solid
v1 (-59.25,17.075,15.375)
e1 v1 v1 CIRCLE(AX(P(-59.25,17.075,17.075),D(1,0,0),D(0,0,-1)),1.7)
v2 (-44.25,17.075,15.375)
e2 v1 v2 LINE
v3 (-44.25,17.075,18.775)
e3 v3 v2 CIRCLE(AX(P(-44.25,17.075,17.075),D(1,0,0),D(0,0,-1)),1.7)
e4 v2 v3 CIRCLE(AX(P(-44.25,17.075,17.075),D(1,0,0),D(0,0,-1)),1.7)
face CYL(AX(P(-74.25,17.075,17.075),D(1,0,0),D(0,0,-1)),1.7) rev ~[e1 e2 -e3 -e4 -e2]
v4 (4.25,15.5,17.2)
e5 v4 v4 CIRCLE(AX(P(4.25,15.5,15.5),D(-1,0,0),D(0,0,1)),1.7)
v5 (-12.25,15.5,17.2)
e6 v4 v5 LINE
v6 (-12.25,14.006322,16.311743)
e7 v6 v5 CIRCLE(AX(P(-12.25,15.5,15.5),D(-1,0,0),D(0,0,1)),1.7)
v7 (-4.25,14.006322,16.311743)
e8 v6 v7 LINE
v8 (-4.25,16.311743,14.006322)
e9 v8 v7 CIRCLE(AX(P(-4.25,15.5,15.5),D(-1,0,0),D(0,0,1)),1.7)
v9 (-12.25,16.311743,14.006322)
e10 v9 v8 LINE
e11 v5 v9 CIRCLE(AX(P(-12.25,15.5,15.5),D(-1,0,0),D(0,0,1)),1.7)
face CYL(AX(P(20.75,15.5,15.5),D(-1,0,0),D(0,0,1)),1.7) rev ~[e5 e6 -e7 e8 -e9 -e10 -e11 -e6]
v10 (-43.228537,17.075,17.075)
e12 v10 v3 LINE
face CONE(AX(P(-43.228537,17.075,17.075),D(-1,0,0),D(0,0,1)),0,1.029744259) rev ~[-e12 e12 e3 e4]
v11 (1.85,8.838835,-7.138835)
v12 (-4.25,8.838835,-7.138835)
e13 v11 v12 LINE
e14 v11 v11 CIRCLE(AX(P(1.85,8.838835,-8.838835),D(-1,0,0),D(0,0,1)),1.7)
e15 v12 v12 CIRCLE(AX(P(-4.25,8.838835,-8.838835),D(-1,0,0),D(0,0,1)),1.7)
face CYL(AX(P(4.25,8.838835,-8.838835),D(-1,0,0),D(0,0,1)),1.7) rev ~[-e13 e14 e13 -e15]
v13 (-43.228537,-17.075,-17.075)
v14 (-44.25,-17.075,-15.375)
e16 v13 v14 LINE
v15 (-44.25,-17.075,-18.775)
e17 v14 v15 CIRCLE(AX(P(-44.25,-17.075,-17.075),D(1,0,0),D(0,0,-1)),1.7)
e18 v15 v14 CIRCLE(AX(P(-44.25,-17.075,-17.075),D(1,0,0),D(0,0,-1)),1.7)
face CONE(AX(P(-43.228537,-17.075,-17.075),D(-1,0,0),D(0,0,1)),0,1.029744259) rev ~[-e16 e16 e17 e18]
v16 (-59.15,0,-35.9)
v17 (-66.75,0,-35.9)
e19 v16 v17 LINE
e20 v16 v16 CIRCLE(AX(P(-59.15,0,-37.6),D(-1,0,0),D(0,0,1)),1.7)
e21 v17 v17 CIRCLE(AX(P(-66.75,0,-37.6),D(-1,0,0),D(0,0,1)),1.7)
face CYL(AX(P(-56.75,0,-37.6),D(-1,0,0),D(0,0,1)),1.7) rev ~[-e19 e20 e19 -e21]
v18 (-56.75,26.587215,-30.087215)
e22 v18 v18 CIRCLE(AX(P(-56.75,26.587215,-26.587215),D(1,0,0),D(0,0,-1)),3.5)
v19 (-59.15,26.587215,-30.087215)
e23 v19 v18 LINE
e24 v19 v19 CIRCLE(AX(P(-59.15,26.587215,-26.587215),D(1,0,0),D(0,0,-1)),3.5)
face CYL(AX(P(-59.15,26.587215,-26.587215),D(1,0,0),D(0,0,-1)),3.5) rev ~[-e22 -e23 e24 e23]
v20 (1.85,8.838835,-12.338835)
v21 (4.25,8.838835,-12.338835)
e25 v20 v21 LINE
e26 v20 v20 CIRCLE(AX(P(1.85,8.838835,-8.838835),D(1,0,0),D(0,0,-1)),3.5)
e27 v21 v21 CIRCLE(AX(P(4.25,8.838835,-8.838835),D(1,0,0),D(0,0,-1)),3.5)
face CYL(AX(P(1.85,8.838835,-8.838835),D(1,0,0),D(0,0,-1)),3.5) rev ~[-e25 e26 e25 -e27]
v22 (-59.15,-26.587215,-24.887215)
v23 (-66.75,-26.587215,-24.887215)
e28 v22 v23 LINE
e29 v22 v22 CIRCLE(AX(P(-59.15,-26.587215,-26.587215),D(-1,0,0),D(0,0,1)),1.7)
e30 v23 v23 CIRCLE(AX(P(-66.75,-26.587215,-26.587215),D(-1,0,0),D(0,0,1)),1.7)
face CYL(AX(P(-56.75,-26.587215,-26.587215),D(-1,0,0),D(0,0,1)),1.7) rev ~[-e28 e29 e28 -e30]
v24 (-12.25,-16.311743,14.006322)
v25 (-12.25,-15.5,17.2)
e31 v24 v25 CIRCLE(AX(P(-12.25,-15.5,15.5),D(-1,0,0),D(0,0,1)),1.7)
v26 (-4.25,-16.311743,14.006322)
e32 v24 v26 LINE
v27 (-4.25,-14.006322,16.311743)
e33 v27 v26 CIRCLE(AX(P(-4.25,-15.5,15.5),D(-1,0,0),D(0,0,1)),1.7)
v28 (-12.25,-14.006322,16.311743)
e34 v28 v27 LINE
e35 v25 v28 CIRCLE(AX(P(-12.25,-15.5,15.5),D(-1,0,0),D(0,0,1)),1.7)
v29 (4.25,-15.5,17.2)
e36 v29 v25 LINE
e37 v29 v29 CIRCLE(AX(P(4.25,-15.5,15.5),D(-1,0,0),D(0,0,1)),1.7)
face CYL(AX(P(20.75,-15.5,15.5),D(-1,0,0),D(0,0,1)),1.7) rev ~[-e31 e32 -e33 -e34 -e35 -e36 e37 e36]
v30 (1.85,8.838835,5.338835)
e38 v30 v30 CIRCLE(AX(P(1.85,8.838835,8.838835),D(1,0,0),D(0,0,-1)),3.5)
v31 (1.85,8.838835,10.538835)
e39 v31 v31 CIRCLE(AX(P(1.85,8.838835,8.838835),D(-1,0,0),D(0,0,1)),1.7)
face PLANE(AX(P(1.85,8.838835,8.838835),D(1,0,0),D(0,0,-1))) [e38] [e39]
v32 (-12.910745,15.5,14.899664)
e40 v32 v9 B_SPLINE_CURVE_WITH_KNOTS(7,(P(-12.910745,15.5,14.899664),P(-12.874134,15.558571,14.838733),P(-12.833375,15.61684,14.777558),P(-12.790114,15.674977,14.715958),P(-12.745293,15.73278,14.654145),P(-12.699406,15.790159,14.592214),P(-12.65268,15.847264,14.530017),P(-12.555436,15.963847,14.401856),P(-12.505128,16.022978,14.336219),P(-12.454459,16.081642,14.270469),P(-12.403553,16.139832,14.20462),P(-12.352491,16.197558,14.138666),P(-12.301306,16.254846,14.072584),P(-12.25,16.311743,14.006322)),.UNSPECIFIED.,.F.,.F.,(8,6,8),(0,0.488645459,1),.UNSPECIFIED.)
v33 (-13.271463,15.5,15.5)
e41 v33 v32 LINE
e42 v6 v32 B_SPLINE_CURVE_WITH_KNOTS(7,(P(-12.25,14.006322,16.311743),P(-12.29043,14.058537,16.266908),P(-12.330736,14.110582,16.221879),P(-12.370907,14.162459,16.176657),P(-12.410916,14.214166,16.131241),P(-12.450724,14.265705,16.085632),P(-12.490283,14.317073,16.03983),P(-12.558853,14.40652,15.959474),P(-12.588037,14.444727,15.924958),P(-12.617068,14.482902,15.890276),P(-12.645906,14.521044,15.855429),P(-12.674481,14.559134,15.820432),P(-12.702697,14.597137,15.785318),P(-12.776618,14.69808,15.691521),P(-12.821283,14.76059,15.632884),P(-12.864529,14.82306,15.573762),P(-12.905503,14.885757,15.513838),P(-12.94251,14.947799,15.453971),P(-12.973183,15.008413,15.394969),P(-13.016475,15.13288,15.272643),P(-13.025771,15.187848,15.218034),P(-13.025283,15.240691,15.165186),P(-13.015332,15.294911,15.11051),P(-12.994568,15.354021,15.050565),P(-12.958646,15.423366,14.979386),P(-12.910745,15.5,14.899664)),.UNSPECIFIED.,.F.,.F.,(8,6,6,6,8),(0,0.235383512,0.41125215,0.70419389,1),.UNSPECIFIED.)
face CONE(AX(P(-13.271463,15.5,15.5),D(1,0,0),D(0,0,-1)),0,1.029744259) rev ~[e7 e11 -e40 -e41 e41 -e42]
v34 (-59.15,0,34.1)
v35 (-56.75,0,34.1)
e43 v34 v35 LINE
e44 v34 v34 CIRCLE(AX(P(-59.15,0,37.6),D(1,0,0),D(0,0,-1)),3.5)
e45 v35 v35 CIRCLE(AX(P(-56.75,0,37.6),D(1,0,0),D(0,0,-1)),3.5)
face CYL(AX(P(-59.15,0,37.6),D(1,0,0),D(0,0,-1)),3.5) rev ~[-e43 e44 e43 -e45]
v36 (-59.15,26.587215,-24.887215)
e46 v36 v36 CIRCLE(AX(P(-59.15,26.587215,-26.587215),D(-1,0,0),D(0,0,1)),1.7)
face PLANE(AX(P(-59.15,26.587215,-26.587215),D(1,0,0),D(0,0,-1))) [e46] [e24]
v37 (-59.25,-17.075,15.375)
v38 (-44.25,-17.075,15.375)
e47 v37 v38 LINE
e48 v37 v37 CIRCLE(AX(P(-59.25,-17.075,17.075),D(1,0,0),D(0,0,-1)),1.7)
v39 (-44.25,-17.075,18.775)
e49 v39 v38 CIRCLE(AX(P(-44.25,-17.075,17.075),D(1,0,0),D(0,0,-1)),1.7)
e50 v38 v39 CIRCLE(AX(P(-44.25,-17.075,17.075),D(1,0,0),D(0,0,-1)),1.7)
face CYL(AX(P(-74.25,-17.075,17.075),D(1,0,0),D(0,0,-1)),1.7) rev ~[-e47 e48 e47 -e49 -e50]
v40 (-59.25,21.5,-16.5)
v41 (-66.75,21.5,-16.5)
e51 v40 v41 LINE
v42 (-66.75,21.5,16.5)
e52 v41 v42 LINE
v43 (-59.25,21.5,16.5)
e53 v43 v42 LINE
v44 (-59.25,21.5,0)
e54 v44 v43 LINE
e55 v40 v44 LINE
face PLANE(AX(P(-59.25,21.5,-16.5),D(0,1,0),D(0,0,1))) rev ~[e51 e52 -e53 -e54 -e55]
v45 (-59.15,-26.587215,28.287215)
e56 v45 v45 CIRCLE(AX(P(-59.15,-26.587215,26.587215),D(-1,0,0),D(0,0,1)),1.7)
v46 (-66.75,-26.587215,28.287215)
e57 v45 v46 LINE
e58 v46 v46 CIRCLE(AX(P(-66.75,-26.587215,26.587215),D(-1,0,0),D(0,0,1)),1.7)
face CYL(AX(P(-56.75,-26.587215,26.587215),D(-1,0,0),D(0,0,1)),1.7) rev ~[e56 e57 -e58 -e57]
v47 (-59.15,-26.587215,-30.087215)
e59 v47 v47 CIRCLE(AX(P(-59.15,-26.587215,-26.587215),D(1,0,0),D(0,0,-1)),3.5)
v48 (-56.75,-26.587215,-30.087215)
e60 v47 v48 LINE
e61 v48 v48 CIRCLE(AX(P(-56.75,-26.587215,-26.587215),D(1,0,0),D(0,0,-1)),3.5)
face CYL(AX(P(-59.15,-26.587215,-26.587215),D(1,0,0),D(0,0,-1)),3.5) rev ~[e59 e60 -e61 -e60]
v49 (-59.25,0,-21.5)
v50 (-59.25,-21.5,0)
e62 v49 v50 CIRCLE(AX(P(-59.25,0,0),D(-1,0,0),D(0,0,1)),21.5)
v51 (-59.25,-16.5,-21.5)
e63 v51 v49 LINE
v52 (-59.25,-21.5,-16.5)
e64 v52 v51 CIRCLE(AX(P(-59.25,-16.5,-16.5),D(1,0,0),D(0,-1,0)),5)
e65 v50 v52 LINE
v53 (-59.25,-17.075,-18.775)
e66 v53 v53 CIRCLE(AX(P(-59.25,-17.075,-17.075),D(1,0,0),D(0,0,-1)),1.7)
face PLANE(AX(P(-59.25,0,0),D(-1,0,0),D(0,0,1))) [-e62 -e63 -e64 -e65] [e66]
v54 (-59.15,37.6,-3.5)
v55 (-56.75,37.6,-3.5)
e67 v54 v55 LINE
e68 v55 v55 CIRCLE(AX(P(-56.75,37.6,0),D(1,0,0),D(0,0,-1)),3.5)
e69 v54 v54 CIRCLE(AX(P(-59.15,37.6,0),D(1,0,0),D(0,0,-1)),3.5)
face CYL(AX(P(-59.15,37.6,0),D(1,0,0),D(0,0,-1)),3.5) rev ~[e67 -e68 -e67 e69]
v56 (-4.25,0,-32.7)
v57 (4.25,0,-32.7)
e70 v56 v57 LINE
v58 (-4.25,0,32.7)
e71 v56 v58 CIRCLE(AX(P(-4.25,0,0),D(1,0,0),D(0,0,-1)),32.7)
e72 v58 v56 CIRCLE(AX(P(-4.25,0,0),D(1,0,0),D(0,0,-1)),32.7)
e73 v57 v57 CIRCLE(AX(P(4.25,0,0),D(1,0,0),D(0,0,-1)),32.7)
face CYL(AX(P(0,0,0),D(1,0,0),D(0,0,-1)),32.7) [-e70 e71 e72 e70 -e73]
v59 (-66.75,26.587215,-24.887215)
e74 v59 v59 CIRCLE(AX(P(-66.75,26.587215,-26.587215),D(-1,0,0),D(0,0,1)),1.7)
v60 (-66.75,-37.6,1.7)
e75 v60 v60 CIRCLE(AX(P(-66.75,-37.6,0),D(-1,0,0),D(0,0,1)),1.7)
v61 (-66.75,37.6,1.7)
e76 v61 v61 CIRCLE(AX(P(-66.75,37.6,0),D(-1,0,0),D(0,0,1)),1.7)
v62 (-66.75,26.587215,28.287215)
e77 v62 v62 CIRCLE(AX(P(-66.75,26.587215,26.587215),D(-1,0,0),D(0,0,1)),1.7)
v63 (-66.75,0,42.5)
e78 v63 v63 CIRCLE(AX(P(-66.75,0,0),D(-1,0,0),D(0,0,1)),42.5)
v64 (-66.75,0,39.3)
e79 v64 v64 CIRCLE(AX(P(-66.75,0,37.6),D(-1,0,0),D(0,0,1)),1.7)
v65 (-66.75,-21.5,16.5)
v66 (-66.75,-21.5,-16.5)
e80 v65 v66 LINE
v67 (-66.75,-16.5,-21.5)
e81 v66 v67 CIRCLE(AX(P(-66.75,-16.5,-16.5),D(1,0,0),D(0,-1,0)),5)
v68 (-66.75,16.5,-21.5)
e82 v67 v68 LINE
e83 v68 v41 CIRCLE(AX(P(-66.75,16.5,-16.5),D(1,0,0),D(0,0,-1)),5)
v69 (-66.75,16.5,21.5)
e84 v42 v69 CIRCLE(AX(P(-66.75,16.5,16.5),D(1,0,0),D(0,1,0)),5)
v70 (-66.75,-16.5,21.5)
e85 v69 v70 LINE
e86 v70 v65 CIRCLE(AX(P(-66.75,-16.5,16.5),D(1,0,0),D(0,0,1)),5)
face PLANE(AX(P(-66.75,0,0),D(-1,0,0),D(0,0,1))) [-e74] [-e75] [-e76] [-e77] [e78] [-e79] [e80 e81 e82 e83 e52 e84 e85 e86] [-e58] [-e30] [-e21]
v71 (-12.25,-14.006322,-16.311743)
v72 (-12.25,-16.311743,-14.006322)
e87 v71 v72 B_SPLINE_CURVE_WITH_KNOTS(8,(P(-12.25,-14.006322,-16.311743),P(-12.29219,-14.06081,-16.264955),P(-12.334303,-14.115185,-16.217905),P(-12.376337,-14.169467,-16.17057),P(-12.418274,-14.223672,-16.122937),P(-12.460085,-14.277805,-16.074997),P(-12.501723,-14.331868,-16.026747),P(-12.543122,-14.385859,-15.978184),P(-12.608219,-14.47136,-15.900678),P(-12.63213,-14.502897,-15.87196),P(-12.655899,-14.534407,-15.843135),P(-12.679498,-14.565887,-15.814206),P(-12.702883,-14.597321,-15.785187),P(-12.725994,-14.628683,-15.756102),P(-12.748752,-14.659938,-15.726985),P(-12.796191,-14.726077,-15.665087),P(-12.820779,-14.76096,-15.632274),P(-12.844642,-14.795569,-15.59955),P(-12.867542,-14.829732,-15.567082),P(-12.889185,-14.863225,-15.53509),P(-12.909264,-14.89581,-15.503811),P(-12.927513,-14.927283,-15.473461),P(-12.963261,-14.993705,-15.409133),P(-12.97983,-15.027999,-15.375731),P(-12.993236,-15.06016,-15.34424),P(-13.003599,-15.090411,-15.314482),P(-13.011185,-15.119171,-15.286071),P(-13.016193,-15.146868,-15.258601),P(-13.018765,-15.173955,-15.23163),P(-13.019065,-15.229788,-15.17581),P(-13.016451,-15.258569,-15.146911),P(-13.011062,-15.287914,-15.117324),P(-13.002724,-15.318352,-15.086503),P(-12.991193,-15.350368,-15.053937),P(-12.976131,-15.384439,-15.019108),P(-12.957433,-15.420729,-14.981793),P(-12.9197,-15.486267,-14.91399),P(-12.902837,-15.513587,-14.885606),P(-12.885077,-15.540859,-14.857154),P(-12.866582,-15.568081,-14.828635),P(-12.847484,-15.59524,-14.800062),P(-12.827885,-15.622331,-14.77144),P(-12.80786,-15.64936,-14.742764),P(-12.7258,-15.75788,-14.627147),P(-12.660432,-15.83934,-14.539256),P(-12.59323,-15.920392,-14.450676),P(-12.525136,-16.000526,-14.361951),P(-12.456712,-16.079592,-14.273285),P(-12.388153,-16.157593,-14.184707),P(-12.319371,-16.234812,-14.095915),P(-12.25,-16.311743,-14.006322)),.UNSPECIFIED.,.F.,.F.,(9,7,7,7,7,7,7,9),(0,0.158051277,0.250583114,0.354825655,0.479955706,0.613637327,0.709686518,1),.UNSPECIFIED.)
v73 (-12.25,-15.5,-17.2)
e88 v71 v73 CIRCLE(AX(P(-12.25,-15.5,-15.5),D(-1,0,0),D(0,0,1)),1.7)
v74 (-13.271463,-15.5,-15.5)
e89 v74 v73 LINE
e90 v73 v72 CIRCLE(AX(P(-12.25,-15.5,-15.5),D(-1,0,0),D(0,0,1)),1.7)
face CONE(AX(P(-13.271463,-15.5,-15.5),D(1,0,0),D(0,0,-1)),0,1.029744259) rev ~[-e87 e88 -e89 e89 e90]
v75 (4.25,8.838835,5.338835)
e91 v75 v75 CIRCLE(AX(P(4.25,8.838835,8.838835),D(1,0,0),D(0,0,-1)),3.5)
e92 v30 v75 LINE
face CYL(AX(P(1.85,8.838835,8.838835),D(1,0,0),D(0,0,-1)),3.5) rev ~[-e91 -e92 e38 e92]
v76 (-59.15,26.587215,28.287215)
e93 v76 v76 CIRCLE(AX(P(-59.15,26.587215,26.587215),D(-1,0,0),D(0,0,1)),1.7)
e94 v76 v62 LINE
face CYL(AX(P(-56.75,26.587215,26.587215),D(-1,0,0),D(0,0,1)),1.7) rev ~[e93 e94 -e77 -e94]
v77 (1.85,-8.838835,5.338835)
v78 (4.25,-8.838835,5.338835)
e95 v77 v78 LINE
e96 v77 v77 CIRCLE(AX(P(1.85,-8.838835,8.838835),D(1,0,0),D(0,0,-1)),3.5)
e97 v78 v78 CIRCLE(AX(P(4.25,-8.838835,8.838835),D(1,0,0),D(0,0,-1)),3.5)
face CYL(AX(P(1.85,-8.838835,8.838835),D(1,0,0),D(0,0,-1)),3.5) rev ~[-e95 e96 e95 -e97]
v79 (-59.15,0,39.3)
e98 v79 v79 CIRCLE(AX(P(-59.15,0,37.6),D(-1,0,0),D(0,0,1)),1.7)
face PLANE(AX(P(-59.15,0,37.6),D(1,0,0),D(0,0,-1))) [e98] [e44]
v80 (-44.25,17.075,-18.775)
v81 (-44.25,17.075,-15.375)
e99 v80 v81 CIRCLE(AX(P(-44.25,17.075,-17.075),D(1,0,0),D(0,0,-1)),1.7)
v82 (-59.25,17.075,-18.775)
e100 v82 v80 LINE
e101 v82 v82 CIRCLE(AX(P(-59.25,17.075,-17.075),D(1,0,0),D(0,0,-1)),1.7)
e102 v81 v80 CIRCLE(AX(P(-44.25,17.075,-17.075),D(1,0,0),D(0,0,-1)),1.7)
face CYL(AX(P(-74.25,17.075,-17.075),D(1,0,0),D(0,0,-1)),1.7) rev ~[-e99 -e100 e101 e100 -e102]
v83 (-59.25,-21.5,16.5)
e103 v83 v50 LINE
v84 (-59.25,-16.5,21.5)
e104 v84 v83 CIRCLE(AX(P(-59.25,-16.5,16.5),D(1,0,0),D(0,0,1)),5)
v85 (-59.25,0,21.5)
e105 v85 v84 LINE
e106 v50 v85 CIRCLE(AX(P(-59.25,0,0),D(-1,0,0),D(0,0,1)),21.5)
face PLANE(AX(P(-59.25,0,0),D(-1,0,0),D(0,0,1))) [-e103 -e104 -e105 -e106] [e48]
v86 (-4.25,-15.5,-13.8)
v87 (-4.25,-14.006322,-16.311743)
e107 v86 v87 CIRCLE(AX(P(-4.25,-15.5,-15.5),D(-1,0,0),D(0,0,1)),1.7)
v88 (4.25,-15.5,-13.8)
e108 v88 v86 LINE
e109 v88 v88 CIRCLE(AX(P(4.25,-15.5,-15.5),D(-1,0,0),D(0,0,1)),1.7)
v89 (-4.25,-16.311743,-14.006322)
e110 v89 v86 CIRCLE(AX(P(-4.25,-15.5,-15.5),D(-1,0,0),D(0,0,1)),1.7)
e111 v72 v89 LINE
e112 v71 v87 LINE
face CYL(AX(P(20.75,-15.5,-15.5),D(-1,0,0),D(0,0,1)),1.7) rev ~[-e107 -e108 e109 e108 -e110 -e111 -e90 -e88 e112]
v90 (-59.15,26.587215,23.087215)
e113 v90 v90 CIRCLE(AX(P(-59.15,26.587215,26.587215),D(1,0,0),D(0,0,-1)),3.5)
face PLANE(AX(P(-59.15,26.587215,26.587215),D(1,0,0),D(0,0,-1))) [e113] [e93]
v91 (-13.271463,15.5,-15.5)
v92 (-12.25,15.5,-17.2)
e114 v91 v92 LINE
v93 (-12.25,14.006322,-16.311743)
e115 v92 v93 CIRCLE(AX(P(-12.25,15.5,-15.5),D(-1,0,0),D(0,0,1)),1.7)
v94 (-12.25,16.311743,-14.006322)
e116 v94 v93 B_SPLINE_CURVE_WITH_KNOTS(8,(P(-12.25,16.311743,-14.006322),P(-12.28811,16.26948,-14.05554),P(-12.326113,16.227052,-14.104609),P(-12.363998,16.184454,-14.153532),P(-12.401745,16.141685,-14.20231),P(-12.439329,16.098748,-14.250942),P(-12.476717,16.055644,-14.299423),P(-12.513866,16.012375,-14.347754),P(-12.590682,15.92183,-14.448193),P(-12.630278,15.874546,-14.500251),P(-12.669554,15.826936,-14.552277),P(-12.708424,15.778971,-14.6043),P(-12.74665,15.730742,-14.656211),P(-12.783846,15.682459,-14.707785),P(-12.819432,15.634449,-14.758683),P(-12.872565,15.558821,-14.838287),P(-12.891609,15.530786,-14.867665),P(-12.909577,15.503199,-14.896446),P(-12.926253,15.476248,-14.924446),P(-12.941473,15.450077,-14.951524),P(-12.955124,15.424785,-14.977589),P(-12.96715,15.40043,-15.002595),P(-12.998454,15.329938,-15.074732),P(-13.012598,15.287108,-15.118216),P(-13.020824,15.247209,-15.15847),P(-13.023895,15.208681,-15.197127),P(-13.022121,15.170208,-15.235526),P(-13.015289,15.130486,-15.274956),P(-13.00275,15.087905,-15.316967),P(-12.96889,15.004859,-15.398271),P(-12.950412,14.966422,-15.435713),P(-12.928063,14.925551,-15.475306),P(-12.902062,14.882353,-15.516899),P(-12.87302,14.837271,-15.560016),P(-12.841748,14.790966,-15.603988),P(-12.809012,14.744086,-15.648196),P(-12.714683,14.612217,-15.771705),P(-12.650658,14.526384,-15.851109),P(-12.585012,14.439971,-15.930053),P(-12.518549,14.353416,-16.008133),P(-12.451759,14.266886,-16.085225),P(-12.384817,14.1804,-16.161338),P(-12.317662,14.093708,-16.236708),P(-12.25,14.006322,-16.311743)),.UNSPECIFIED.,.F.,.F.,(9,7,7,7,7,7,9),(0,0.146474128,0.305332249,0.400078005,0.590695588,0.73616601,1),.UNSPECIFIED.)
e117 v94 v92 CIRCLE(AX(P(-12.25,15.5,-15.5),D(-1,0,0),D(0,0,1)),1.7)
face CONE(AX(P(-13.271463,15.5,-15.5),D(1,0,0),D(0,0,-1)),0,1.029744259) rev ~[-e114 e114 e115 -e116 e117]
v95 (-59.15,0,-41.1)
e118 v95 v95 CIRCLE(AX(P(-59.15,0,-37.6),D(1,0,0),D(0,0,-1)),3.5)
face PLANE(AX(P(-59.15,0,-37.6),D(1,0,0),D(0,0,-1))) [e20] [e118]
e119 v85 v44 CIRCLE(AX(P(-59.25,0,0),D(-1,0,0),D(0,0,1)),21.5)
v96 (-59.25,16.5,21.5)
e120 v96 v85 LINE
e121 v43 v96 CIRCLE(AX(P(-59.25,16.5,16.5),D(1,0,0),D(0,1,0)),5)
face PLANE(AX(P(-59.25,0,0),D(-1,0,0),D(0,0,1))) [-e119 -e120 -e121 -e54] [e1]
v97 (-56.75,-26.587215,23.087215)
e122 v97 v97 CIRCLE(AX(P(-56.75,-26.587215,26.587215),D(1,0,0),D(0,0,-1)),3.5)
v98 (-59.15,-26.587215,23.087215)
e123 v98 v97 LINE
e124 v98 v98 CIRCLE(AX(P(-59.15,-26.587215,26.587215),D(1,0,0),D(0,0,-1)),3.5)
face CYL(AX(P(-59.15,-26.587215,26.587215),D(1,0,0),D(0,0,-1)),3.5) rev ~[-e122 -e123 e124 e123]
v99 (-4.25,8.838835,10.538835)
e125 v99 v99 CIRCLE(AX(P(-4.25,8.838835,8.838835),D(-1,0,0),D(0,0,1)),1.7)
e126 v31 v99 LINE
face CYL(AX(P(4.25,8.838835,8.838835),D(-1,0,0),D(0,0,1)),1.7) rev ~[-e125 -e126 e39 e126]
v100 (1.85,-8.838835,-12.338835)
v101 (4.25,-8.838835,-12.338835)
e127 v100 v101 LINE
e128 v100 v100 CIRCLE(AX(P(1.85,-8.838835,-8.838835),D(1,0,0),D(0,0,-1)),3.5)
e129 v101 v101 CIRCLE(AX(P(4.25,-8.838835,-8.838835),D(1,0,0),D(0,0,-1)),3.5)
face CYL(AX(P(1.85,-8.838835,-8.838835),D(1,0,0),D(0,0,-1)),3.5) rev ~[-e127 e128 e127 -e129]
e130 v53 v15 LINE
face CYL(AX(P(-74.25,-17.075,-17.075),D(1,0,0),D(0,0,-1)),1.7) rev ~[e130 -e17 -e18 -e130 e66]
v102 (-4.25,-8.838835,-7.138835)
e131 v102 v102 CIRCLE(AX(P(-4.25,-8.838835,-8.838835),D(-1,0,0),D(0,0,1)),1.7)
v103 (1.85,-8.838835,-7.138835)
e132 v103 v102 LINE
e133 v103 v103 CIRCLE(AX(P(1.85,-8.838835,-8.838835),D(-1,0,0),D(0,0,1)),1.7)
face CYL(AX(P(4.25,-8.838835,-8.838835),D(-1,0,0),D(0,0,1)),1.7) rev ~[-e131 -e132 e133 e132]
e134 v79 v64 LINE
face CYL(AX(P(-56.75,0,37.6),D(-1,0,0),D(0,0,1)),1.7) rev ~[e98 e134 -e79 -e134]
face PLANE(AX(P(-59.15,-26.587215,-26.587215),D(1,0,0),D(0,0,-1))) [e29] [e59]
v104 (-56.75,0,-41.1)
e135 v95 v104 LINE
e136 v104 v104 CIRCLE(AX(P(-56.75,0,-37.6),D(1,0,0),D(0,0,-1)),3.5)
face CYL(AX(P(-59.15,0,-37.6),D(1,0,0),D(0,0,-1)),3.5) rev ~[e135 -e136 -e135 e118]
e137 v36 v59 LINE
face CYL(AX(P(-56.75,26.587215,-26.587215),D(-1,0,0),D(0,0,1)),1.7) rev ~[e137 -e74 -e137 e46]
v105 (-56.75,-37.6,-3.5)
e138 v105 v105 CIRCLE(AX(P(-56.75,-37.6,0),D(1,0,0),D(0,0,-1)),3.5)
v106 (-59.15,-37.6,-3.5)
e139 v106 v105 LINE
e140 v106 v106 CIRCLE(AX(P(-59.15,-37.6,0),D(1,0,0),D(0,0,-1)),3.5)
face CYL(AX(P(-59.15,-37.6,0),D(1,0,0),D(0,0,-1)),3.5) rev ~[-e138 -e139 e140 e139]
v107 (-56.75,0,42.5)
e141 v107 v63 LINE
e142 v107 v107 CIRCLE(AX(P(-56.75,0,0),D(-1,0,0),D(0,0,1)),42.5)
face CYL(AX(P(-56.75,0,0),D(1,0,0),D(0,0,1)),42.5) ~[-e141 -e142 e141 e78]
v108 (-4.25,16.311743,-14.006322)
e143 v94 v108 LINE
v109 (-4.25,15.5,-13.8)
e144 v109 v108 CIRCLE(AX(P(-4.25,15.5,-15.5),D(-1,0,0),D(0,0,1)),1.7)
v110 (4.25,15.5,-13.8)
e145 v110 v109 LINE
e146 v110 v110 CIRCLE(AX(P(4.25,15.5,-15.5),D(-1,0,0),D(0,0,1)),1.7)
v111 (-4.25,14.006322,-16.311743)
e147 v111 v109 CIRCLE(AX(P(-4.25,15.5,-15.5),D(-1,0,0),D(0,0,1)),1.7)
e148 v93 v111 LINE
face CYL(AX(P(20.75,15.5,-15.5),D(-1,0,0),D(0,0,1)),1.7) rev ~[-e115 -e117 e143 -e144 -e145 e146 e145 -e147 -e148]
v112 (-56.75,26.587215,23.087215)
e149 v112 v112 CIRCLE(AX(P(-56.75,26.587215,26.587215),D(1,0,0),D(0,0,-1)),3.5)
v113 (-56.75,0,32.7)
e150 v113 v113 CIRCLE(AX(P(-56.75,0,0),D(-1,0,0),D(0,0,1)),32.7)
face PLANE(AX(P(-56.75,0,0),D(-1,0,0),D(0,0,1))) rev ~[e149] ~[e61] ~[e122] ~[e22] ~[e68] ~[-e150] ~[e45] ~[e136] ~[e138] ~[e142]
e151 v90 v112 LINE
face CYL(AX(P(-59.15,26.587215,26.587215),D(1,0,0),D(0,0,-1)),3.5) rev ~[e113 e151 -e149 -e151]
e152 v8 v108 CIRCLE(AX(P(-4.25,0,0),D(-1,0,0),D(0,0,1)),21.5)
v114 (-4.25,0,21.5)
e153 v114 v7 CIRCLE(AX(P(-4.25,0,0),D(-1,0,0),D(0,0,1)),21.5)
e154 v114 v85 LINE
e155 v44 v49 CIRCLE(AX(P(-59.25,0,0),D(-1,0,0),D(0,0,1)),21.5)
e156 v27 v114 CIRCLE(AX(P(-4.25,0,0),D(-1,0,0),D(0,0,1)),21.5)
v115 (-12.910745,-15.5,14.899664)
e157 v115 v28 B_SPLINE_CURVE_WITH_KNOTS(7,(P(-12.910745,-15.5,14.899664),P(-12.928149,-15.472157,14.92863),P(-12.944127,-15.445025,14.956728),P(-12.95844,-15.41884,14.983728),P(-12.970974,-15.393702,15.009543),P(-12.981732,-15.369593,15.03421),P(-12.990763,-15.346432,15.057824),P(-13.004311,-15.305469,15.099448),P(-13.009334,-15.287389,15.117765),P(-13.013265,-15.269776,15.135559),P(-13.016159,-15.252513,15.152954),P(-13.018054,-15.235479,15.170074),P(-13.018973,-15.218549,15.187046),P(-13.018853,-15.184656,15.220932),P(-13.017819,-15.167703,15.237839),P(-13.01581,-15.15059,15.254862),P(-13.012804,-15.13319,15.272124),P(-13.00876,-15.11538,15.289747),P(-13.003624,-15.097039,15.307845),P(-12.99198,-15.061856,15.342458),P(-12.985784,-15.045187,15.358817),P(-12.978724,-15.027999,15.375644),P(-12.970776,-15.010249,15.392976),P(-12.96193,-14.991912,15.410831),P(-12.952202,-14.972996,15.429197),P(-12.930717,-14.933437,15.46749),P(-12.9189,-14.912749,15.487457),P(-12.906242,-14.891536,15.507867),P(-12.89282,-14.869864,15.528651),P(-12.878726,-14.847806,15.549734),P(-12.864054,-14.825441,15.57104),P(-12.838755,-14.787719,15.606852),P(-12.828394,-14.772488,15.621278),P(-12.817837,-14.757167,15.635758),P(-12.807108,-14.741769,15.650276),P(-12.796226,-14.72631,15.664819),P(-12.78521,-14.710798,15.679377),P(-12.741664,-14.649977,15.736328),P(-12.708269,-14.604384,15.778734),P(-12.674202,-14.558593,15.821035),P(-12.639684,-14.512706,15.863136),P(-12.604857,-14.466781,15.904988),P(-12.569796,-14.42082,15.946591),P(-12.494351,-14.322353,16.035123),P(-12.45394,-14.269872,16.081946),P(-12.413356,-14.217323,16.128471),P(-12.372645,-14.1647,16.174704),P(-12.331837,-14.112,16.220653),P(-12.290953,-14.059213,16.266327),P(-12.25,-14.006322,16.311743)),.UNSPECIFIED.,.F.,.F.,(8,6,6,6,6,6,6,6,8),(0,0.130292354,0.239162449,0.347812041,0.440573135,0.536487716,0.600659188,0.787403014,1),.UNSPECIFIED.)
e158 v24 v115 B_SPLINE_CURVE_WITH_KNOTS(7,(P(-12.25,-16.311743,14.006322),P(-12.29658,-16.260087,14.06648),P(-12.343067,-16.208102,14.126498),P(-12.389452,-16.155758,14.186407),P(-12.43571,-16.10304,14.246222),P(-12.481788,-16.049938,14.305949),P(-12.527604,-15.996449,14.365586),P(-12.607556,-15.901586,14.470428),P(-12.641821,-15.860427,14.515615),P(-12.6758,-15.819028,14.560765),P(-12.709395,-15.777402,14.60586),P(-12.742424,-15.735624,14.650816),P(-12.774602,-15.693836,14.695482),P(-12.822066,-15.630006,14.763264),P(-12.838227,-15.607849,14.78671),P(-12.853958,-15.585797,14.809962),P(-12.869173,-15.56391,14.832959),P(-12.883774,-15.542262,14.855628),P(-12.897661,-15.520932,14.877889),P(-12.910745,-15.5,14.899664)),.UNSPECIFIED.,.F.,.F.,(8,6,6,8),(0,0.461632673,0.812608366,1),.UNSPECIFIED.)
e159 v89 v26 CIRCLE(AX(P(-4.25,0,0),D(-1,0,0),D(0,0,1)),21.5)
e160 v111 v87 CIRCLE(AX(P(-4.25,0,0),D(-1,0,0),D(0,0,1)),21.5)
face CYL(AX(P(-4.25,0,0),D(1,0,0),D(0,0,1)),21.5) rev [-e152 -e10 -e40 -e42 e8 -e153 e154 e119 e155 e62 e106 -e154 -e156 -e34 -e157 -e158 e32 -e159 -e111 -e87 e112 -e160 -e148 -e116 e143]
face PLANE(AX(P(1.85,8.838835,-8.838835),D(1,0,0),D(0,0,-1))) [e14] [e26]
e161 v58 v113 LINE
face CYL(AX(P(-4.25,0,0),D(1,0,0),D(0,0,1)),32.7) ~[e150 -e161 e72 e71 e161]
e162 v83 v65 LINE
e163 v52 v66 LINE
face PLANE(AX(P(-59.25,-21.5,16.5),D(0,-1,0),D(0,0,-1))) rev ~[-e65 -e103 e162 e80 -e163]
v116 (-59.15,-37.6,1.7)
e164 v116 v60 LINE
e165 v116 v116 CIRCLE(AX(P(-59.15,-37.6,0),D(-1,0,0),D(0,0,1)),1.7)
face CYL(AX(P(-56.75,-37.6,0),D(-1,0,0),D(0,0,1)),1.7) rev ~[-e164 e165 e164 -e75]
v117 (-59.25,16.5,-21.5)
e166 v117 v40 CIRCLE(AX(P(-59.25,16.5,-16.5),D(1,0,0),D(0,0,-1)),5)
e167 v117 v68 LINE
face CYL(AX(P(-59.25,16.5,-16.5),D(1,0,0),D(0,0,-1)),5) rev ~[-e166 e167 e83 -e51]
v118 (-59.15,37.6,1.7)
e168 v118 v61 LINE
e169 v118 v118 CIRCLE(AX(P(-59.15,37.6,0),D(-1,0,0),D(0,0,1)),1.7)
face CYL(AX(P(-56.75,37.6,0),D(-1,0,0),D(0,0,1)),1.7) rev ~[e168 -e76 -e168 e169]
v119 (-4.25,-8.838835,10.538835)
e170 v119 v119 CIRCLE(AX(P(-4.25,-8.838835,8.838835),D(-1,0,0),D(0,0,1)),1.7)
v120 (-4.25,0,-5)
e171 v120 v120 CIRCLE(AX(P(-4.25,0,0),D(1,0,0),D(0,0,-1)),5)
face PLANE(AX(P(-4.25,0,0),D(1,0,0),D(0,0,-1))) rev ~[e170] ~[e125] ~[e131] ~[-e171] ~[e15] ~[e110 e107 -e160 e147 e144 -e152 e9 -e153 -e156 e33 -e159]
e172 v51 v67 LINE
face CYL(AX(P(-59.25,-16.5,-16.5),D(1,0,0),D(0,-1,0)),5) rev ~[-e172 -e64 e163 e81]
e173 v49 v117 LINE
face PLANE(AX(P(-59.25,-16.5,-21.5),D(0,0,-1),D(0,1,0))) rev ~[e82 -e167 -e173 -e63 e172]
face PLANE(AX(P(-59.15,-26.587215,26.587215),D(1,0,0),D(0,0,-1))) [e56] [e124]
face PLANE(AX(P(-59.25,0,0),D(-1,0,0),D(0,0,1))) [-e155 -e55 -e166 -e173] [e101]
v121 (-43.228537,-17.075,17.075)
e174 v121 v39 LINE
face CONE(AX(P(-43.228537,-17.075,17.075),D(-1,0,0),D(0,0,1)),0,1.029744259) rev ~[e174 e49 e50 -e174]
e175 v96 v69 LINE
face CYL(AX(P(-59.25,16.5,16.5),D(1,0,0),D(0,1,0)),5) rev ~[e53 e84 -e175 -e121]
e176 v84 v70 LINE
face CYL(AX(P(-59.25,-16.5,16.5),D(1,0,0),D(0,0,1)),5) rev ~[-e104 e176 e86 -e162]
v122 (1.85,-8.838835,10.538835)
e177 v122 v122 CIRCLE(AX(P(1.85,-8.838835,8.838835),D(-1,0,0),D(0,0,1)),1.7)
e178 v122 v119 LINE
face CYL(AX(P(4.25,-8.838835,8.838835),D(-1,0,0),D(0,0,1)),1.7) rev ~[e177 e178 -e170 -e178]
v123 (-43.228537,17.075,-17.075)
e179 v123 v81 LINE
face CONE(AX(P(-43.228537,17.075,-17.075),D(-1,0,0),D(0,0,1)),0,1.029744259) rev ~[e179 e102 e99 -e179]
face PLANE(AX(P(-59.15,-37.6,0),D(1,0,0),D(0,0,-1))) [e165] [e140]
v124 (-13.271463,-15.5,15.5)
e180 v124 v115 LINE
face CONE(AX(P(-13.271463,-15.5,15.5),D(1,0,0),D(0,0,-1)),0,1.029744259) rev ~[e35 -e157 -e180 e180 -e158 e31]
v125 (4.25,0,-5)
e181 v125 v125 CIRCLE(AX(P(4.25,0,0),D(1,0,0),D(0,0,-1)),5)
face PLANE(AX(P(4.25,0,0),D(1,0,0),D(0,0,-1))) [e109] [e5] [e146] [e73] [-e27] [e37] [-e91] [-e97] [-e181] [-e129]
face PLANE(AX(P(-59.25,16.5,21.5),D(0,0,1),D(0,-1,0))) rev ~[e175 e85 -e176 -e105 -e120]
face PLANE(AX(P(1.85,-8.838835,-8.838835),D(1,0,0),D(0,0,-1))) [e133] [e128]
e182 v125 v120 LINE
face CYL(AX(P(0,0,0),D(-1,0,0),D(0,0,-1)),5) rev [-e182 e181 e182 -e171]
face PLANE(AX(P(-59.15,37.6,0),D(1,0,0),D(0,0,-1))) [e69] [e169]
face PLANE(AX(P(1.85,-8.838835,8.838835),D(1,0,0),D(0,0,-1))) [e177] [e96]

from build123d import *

# Parameters (mm, degrees)
CROQUIS1_R                                           = 32.7
CROQUIS1_R_2                                         = 5
SALIENTE_EXTRUIR1_DEPTH                              = 4.25
REFRENTADO_PARA_TORNILLO_CON_CABEZA_TRON_D           = 3.4
REFRENTADO_PARA_TORNILLO_CON_CABEZA_TRON_CBORE_D     = 7
REFRENTADO_PARA_TORNILLO_CON_CABEZA_TRON_CBORE_DEPTH = 2.4
CROQUIS5_R                                           = 32.7
CROQUIS5_R_2                                         = 21.5
SALIENTE_EXTRUIR2_DEPTH                              = 55
TALADRO_DE_MARGEN_PARA_M31_D                         = 3.4
TALADRO_DE_MARGEN_PARA_M31_DEPTH                     = 15
TALADRO_DE_MARGEN_PARA_M31_TIP                       = 1.021463052
TALADRO_DE_MARGEN_PARA_M32_D                         = 3.4
TALADRO_DE_MARGEN_PARA_M32_DEPTH                     = 16.5
TALADRO_DE_MARGEN_PARA_M32_TIP                       = 1.021463052
CROQUIS16_R                                          = 32.7
SALIENTE_EXTRUIR3_DEPTH                              = 7.5
SALIENTE_EXTRUIR4_START                              = -10
CROQUIS17_R                                          = 42.5
CROQUIS17_R_2                                        = 32.7
SALIENTE_EXTRUIR4_DEPTH                              = 10
REFRENTADO_PARA_TORNILLO_CON_CABEZA_2_D              = 3.4
REFRENTADO_PARA_TORNILLO_CON_CABEZA_2_CBORE_D        = 7
REFRENTADO_PARA_TORNILLO_CON_CABEZA_2_CBORE_DEPTH    = 2.4


with BuildPart() as part:
    # Croquis1 → Saliente-Extruir1 (new, symmetric)
    with BuildSketch(Plane(origin=(0, 0, 0), x_dir=(0, 0, -1), z_dir=(1, 0, 0))):
        Circle(CROQUIS1_R)
        Circle(CROQUIS1_R_2, mode=Mode.SUBTRACT)
    extrude(amount=SALIENTE_EXTRUIR1_DEPTH, both=True)

    # Refrentado para tornillo con cabeza tron (through all)
    with Locations(Plane(origin=(4.25, 0, 0), x_dir=(0, 0, -1), z_dir=(1, 0, 0))):
        with Locations((8.838834765, 8.838834765), (-8.838834765, -8.838834765), (-8.838834765, 8.838834765), (8.838834765, -8.838834765)):
            CounterBoreHole(REFRENTADO_PARA_TORNILLO_CON_CABEZA_TRON_D / 2, REFRENTADO_PARA_TORNILLO_CON_CABEZA_TRON_CBORE_D / 2, REFRENTADO_PARA_TORNILLO_CON_CABEZA_TRON_CBORE_DEPTH)

    # Croquis5 → Saliente-Extruir2 (add)
    with BuildSketch(Plane.ZY.offset(4.25)):
        Circle(CROQUIS5_R)
        Circle(CROQUIS5_R_2, mode=Mode.SUBTRACT)
    extrude(amount=SALIENTE_EXTRUIR2_DEPTH)

    # Taladro de margen para M31
    with Locations(Plane.ZY.offset(59.25)):
        with Locations((17.075, 17.075), (-17.075, -17.075), (-17.075, 17.075), (17.075, -17.075)):
            Hole(TALADRO_DE_MARGEN_PARA_M31_D / 2, depth=TALADRO_DE_MARGEN_PARA_M31_DEPTH)
            with Locations((0, 0, -(TALADRO_DE_MARGEN_PARA_M31_DEPTH + TALADRO_DE_MARGEN_PARA_M31_TIP / 2))):  # 118° drill point
                Cone(0, TALADRO_DE_MARGEN_PARA_M31_D / 2, TALADRO_DE_MARGEN_PARA_M31_TIP, mode=Mode.SUBTRACT)

    # Taladro de margen para M32
    with Locations(Plane(origin=(4.25, 0, 0), x_dir=(0, 0, -1), z_dir=(1, 0, 0))):
        with Locations((15.5, 15.5), (-15.5, -15.5), (-15.5, 15.5), (15.5, -15.5)):
            Hole(TALADRO_DE_MARGEN_PARA_M32_D / 2, depth=TALADRO_DE_MARGEN_PARA_M32_DEPTH)
            with Locations((0, 0, -(TALADRO_DE_MARGEN_PARA_M32_DEPTH + TALADRO_DE_MARGEN_PARA_M32_TIP / 2))):  # 118° drill point
                Cone(0, TALADRO_DE_MARGEN_PARA_M32_D / 2, TALADRO_DE_MARGEN_PARA_M32_TIP, mode=Mode.SUBTRACT)

    # Croquis16 → Saliente-Extruir3 (add)
    with BuildSketch(Plane.ZY.offset(59.25)):
        Circle(CROQUIS16_R)
        with BuildLine():
            Line((-16.5, 21.5), (16.5, 21.5))
            ThreePointArc((16.5, 21.5), (20.035533906, 20.035533906), (21.5, 16.5))
            Line((21.5, 16.5), (21.5, -16.5))
            ThreePointArc((21.5, -16.5), (20.035533906, -20.035533906), (16.5, -21.5))
            Line((16.5, -21.5), (-16.5, -21.5))
            ThreePointArc((-16.5, -21.5), (-20.035533906, -20.035533906), (-21.5, -16.5))
            Line((-21.5, -16.5), (-21.5, 16.5))
            ThreePointArc((-21.5, 16.5), (-20.035533906, 20.035533906), (-16.5, 21.5))
        make_face(mode=Mode.SUBTRACT)
    extrude(amount=SALIENTE_EXTRUIR3_DEPTH)

    # Croquis17 → Saliente-Extruir4 (add)
    with BuildSketch(Plane.ZY.offset(66.75).offset(SALIENTE_EXTRUIR4_START)):
        Circle(CROQUIS17_R)
        Circle(CROQUIS17_R_2, mode=Mode.SUBTRACT)
    extrude(amount=SALIENTE_EXTRUIR4_DEPTH)

    # Refrentado para tornillo con cabeza  2 (through all)
    with Locations(Plane(origin=(-56.75, 0, 0), x_dir=(0, 0, -1), z_dir=(1, 0, 0))):
        with Locations((0, 37.6), (26.587214973, 26.587214973), (37.6, 0), (26.587214973, -26.587214973), (0, -37.6), (-26.587214973, -26.587214973), (-37.6, 0), (-26.587214973, 26.587214973)):
            CounterBoreHole(REFRENTADO_PARA_TORNILLO_CON_CABEZA_2_D / 2, REFRENTADO_PARA_TORNILLO_CON_CABEZA_2_CBORE_D / 2, REFRENTADO_PARA_TORNILLO_CON_CABEZA_2_CBORE_DEPTH)


solid = part.part
